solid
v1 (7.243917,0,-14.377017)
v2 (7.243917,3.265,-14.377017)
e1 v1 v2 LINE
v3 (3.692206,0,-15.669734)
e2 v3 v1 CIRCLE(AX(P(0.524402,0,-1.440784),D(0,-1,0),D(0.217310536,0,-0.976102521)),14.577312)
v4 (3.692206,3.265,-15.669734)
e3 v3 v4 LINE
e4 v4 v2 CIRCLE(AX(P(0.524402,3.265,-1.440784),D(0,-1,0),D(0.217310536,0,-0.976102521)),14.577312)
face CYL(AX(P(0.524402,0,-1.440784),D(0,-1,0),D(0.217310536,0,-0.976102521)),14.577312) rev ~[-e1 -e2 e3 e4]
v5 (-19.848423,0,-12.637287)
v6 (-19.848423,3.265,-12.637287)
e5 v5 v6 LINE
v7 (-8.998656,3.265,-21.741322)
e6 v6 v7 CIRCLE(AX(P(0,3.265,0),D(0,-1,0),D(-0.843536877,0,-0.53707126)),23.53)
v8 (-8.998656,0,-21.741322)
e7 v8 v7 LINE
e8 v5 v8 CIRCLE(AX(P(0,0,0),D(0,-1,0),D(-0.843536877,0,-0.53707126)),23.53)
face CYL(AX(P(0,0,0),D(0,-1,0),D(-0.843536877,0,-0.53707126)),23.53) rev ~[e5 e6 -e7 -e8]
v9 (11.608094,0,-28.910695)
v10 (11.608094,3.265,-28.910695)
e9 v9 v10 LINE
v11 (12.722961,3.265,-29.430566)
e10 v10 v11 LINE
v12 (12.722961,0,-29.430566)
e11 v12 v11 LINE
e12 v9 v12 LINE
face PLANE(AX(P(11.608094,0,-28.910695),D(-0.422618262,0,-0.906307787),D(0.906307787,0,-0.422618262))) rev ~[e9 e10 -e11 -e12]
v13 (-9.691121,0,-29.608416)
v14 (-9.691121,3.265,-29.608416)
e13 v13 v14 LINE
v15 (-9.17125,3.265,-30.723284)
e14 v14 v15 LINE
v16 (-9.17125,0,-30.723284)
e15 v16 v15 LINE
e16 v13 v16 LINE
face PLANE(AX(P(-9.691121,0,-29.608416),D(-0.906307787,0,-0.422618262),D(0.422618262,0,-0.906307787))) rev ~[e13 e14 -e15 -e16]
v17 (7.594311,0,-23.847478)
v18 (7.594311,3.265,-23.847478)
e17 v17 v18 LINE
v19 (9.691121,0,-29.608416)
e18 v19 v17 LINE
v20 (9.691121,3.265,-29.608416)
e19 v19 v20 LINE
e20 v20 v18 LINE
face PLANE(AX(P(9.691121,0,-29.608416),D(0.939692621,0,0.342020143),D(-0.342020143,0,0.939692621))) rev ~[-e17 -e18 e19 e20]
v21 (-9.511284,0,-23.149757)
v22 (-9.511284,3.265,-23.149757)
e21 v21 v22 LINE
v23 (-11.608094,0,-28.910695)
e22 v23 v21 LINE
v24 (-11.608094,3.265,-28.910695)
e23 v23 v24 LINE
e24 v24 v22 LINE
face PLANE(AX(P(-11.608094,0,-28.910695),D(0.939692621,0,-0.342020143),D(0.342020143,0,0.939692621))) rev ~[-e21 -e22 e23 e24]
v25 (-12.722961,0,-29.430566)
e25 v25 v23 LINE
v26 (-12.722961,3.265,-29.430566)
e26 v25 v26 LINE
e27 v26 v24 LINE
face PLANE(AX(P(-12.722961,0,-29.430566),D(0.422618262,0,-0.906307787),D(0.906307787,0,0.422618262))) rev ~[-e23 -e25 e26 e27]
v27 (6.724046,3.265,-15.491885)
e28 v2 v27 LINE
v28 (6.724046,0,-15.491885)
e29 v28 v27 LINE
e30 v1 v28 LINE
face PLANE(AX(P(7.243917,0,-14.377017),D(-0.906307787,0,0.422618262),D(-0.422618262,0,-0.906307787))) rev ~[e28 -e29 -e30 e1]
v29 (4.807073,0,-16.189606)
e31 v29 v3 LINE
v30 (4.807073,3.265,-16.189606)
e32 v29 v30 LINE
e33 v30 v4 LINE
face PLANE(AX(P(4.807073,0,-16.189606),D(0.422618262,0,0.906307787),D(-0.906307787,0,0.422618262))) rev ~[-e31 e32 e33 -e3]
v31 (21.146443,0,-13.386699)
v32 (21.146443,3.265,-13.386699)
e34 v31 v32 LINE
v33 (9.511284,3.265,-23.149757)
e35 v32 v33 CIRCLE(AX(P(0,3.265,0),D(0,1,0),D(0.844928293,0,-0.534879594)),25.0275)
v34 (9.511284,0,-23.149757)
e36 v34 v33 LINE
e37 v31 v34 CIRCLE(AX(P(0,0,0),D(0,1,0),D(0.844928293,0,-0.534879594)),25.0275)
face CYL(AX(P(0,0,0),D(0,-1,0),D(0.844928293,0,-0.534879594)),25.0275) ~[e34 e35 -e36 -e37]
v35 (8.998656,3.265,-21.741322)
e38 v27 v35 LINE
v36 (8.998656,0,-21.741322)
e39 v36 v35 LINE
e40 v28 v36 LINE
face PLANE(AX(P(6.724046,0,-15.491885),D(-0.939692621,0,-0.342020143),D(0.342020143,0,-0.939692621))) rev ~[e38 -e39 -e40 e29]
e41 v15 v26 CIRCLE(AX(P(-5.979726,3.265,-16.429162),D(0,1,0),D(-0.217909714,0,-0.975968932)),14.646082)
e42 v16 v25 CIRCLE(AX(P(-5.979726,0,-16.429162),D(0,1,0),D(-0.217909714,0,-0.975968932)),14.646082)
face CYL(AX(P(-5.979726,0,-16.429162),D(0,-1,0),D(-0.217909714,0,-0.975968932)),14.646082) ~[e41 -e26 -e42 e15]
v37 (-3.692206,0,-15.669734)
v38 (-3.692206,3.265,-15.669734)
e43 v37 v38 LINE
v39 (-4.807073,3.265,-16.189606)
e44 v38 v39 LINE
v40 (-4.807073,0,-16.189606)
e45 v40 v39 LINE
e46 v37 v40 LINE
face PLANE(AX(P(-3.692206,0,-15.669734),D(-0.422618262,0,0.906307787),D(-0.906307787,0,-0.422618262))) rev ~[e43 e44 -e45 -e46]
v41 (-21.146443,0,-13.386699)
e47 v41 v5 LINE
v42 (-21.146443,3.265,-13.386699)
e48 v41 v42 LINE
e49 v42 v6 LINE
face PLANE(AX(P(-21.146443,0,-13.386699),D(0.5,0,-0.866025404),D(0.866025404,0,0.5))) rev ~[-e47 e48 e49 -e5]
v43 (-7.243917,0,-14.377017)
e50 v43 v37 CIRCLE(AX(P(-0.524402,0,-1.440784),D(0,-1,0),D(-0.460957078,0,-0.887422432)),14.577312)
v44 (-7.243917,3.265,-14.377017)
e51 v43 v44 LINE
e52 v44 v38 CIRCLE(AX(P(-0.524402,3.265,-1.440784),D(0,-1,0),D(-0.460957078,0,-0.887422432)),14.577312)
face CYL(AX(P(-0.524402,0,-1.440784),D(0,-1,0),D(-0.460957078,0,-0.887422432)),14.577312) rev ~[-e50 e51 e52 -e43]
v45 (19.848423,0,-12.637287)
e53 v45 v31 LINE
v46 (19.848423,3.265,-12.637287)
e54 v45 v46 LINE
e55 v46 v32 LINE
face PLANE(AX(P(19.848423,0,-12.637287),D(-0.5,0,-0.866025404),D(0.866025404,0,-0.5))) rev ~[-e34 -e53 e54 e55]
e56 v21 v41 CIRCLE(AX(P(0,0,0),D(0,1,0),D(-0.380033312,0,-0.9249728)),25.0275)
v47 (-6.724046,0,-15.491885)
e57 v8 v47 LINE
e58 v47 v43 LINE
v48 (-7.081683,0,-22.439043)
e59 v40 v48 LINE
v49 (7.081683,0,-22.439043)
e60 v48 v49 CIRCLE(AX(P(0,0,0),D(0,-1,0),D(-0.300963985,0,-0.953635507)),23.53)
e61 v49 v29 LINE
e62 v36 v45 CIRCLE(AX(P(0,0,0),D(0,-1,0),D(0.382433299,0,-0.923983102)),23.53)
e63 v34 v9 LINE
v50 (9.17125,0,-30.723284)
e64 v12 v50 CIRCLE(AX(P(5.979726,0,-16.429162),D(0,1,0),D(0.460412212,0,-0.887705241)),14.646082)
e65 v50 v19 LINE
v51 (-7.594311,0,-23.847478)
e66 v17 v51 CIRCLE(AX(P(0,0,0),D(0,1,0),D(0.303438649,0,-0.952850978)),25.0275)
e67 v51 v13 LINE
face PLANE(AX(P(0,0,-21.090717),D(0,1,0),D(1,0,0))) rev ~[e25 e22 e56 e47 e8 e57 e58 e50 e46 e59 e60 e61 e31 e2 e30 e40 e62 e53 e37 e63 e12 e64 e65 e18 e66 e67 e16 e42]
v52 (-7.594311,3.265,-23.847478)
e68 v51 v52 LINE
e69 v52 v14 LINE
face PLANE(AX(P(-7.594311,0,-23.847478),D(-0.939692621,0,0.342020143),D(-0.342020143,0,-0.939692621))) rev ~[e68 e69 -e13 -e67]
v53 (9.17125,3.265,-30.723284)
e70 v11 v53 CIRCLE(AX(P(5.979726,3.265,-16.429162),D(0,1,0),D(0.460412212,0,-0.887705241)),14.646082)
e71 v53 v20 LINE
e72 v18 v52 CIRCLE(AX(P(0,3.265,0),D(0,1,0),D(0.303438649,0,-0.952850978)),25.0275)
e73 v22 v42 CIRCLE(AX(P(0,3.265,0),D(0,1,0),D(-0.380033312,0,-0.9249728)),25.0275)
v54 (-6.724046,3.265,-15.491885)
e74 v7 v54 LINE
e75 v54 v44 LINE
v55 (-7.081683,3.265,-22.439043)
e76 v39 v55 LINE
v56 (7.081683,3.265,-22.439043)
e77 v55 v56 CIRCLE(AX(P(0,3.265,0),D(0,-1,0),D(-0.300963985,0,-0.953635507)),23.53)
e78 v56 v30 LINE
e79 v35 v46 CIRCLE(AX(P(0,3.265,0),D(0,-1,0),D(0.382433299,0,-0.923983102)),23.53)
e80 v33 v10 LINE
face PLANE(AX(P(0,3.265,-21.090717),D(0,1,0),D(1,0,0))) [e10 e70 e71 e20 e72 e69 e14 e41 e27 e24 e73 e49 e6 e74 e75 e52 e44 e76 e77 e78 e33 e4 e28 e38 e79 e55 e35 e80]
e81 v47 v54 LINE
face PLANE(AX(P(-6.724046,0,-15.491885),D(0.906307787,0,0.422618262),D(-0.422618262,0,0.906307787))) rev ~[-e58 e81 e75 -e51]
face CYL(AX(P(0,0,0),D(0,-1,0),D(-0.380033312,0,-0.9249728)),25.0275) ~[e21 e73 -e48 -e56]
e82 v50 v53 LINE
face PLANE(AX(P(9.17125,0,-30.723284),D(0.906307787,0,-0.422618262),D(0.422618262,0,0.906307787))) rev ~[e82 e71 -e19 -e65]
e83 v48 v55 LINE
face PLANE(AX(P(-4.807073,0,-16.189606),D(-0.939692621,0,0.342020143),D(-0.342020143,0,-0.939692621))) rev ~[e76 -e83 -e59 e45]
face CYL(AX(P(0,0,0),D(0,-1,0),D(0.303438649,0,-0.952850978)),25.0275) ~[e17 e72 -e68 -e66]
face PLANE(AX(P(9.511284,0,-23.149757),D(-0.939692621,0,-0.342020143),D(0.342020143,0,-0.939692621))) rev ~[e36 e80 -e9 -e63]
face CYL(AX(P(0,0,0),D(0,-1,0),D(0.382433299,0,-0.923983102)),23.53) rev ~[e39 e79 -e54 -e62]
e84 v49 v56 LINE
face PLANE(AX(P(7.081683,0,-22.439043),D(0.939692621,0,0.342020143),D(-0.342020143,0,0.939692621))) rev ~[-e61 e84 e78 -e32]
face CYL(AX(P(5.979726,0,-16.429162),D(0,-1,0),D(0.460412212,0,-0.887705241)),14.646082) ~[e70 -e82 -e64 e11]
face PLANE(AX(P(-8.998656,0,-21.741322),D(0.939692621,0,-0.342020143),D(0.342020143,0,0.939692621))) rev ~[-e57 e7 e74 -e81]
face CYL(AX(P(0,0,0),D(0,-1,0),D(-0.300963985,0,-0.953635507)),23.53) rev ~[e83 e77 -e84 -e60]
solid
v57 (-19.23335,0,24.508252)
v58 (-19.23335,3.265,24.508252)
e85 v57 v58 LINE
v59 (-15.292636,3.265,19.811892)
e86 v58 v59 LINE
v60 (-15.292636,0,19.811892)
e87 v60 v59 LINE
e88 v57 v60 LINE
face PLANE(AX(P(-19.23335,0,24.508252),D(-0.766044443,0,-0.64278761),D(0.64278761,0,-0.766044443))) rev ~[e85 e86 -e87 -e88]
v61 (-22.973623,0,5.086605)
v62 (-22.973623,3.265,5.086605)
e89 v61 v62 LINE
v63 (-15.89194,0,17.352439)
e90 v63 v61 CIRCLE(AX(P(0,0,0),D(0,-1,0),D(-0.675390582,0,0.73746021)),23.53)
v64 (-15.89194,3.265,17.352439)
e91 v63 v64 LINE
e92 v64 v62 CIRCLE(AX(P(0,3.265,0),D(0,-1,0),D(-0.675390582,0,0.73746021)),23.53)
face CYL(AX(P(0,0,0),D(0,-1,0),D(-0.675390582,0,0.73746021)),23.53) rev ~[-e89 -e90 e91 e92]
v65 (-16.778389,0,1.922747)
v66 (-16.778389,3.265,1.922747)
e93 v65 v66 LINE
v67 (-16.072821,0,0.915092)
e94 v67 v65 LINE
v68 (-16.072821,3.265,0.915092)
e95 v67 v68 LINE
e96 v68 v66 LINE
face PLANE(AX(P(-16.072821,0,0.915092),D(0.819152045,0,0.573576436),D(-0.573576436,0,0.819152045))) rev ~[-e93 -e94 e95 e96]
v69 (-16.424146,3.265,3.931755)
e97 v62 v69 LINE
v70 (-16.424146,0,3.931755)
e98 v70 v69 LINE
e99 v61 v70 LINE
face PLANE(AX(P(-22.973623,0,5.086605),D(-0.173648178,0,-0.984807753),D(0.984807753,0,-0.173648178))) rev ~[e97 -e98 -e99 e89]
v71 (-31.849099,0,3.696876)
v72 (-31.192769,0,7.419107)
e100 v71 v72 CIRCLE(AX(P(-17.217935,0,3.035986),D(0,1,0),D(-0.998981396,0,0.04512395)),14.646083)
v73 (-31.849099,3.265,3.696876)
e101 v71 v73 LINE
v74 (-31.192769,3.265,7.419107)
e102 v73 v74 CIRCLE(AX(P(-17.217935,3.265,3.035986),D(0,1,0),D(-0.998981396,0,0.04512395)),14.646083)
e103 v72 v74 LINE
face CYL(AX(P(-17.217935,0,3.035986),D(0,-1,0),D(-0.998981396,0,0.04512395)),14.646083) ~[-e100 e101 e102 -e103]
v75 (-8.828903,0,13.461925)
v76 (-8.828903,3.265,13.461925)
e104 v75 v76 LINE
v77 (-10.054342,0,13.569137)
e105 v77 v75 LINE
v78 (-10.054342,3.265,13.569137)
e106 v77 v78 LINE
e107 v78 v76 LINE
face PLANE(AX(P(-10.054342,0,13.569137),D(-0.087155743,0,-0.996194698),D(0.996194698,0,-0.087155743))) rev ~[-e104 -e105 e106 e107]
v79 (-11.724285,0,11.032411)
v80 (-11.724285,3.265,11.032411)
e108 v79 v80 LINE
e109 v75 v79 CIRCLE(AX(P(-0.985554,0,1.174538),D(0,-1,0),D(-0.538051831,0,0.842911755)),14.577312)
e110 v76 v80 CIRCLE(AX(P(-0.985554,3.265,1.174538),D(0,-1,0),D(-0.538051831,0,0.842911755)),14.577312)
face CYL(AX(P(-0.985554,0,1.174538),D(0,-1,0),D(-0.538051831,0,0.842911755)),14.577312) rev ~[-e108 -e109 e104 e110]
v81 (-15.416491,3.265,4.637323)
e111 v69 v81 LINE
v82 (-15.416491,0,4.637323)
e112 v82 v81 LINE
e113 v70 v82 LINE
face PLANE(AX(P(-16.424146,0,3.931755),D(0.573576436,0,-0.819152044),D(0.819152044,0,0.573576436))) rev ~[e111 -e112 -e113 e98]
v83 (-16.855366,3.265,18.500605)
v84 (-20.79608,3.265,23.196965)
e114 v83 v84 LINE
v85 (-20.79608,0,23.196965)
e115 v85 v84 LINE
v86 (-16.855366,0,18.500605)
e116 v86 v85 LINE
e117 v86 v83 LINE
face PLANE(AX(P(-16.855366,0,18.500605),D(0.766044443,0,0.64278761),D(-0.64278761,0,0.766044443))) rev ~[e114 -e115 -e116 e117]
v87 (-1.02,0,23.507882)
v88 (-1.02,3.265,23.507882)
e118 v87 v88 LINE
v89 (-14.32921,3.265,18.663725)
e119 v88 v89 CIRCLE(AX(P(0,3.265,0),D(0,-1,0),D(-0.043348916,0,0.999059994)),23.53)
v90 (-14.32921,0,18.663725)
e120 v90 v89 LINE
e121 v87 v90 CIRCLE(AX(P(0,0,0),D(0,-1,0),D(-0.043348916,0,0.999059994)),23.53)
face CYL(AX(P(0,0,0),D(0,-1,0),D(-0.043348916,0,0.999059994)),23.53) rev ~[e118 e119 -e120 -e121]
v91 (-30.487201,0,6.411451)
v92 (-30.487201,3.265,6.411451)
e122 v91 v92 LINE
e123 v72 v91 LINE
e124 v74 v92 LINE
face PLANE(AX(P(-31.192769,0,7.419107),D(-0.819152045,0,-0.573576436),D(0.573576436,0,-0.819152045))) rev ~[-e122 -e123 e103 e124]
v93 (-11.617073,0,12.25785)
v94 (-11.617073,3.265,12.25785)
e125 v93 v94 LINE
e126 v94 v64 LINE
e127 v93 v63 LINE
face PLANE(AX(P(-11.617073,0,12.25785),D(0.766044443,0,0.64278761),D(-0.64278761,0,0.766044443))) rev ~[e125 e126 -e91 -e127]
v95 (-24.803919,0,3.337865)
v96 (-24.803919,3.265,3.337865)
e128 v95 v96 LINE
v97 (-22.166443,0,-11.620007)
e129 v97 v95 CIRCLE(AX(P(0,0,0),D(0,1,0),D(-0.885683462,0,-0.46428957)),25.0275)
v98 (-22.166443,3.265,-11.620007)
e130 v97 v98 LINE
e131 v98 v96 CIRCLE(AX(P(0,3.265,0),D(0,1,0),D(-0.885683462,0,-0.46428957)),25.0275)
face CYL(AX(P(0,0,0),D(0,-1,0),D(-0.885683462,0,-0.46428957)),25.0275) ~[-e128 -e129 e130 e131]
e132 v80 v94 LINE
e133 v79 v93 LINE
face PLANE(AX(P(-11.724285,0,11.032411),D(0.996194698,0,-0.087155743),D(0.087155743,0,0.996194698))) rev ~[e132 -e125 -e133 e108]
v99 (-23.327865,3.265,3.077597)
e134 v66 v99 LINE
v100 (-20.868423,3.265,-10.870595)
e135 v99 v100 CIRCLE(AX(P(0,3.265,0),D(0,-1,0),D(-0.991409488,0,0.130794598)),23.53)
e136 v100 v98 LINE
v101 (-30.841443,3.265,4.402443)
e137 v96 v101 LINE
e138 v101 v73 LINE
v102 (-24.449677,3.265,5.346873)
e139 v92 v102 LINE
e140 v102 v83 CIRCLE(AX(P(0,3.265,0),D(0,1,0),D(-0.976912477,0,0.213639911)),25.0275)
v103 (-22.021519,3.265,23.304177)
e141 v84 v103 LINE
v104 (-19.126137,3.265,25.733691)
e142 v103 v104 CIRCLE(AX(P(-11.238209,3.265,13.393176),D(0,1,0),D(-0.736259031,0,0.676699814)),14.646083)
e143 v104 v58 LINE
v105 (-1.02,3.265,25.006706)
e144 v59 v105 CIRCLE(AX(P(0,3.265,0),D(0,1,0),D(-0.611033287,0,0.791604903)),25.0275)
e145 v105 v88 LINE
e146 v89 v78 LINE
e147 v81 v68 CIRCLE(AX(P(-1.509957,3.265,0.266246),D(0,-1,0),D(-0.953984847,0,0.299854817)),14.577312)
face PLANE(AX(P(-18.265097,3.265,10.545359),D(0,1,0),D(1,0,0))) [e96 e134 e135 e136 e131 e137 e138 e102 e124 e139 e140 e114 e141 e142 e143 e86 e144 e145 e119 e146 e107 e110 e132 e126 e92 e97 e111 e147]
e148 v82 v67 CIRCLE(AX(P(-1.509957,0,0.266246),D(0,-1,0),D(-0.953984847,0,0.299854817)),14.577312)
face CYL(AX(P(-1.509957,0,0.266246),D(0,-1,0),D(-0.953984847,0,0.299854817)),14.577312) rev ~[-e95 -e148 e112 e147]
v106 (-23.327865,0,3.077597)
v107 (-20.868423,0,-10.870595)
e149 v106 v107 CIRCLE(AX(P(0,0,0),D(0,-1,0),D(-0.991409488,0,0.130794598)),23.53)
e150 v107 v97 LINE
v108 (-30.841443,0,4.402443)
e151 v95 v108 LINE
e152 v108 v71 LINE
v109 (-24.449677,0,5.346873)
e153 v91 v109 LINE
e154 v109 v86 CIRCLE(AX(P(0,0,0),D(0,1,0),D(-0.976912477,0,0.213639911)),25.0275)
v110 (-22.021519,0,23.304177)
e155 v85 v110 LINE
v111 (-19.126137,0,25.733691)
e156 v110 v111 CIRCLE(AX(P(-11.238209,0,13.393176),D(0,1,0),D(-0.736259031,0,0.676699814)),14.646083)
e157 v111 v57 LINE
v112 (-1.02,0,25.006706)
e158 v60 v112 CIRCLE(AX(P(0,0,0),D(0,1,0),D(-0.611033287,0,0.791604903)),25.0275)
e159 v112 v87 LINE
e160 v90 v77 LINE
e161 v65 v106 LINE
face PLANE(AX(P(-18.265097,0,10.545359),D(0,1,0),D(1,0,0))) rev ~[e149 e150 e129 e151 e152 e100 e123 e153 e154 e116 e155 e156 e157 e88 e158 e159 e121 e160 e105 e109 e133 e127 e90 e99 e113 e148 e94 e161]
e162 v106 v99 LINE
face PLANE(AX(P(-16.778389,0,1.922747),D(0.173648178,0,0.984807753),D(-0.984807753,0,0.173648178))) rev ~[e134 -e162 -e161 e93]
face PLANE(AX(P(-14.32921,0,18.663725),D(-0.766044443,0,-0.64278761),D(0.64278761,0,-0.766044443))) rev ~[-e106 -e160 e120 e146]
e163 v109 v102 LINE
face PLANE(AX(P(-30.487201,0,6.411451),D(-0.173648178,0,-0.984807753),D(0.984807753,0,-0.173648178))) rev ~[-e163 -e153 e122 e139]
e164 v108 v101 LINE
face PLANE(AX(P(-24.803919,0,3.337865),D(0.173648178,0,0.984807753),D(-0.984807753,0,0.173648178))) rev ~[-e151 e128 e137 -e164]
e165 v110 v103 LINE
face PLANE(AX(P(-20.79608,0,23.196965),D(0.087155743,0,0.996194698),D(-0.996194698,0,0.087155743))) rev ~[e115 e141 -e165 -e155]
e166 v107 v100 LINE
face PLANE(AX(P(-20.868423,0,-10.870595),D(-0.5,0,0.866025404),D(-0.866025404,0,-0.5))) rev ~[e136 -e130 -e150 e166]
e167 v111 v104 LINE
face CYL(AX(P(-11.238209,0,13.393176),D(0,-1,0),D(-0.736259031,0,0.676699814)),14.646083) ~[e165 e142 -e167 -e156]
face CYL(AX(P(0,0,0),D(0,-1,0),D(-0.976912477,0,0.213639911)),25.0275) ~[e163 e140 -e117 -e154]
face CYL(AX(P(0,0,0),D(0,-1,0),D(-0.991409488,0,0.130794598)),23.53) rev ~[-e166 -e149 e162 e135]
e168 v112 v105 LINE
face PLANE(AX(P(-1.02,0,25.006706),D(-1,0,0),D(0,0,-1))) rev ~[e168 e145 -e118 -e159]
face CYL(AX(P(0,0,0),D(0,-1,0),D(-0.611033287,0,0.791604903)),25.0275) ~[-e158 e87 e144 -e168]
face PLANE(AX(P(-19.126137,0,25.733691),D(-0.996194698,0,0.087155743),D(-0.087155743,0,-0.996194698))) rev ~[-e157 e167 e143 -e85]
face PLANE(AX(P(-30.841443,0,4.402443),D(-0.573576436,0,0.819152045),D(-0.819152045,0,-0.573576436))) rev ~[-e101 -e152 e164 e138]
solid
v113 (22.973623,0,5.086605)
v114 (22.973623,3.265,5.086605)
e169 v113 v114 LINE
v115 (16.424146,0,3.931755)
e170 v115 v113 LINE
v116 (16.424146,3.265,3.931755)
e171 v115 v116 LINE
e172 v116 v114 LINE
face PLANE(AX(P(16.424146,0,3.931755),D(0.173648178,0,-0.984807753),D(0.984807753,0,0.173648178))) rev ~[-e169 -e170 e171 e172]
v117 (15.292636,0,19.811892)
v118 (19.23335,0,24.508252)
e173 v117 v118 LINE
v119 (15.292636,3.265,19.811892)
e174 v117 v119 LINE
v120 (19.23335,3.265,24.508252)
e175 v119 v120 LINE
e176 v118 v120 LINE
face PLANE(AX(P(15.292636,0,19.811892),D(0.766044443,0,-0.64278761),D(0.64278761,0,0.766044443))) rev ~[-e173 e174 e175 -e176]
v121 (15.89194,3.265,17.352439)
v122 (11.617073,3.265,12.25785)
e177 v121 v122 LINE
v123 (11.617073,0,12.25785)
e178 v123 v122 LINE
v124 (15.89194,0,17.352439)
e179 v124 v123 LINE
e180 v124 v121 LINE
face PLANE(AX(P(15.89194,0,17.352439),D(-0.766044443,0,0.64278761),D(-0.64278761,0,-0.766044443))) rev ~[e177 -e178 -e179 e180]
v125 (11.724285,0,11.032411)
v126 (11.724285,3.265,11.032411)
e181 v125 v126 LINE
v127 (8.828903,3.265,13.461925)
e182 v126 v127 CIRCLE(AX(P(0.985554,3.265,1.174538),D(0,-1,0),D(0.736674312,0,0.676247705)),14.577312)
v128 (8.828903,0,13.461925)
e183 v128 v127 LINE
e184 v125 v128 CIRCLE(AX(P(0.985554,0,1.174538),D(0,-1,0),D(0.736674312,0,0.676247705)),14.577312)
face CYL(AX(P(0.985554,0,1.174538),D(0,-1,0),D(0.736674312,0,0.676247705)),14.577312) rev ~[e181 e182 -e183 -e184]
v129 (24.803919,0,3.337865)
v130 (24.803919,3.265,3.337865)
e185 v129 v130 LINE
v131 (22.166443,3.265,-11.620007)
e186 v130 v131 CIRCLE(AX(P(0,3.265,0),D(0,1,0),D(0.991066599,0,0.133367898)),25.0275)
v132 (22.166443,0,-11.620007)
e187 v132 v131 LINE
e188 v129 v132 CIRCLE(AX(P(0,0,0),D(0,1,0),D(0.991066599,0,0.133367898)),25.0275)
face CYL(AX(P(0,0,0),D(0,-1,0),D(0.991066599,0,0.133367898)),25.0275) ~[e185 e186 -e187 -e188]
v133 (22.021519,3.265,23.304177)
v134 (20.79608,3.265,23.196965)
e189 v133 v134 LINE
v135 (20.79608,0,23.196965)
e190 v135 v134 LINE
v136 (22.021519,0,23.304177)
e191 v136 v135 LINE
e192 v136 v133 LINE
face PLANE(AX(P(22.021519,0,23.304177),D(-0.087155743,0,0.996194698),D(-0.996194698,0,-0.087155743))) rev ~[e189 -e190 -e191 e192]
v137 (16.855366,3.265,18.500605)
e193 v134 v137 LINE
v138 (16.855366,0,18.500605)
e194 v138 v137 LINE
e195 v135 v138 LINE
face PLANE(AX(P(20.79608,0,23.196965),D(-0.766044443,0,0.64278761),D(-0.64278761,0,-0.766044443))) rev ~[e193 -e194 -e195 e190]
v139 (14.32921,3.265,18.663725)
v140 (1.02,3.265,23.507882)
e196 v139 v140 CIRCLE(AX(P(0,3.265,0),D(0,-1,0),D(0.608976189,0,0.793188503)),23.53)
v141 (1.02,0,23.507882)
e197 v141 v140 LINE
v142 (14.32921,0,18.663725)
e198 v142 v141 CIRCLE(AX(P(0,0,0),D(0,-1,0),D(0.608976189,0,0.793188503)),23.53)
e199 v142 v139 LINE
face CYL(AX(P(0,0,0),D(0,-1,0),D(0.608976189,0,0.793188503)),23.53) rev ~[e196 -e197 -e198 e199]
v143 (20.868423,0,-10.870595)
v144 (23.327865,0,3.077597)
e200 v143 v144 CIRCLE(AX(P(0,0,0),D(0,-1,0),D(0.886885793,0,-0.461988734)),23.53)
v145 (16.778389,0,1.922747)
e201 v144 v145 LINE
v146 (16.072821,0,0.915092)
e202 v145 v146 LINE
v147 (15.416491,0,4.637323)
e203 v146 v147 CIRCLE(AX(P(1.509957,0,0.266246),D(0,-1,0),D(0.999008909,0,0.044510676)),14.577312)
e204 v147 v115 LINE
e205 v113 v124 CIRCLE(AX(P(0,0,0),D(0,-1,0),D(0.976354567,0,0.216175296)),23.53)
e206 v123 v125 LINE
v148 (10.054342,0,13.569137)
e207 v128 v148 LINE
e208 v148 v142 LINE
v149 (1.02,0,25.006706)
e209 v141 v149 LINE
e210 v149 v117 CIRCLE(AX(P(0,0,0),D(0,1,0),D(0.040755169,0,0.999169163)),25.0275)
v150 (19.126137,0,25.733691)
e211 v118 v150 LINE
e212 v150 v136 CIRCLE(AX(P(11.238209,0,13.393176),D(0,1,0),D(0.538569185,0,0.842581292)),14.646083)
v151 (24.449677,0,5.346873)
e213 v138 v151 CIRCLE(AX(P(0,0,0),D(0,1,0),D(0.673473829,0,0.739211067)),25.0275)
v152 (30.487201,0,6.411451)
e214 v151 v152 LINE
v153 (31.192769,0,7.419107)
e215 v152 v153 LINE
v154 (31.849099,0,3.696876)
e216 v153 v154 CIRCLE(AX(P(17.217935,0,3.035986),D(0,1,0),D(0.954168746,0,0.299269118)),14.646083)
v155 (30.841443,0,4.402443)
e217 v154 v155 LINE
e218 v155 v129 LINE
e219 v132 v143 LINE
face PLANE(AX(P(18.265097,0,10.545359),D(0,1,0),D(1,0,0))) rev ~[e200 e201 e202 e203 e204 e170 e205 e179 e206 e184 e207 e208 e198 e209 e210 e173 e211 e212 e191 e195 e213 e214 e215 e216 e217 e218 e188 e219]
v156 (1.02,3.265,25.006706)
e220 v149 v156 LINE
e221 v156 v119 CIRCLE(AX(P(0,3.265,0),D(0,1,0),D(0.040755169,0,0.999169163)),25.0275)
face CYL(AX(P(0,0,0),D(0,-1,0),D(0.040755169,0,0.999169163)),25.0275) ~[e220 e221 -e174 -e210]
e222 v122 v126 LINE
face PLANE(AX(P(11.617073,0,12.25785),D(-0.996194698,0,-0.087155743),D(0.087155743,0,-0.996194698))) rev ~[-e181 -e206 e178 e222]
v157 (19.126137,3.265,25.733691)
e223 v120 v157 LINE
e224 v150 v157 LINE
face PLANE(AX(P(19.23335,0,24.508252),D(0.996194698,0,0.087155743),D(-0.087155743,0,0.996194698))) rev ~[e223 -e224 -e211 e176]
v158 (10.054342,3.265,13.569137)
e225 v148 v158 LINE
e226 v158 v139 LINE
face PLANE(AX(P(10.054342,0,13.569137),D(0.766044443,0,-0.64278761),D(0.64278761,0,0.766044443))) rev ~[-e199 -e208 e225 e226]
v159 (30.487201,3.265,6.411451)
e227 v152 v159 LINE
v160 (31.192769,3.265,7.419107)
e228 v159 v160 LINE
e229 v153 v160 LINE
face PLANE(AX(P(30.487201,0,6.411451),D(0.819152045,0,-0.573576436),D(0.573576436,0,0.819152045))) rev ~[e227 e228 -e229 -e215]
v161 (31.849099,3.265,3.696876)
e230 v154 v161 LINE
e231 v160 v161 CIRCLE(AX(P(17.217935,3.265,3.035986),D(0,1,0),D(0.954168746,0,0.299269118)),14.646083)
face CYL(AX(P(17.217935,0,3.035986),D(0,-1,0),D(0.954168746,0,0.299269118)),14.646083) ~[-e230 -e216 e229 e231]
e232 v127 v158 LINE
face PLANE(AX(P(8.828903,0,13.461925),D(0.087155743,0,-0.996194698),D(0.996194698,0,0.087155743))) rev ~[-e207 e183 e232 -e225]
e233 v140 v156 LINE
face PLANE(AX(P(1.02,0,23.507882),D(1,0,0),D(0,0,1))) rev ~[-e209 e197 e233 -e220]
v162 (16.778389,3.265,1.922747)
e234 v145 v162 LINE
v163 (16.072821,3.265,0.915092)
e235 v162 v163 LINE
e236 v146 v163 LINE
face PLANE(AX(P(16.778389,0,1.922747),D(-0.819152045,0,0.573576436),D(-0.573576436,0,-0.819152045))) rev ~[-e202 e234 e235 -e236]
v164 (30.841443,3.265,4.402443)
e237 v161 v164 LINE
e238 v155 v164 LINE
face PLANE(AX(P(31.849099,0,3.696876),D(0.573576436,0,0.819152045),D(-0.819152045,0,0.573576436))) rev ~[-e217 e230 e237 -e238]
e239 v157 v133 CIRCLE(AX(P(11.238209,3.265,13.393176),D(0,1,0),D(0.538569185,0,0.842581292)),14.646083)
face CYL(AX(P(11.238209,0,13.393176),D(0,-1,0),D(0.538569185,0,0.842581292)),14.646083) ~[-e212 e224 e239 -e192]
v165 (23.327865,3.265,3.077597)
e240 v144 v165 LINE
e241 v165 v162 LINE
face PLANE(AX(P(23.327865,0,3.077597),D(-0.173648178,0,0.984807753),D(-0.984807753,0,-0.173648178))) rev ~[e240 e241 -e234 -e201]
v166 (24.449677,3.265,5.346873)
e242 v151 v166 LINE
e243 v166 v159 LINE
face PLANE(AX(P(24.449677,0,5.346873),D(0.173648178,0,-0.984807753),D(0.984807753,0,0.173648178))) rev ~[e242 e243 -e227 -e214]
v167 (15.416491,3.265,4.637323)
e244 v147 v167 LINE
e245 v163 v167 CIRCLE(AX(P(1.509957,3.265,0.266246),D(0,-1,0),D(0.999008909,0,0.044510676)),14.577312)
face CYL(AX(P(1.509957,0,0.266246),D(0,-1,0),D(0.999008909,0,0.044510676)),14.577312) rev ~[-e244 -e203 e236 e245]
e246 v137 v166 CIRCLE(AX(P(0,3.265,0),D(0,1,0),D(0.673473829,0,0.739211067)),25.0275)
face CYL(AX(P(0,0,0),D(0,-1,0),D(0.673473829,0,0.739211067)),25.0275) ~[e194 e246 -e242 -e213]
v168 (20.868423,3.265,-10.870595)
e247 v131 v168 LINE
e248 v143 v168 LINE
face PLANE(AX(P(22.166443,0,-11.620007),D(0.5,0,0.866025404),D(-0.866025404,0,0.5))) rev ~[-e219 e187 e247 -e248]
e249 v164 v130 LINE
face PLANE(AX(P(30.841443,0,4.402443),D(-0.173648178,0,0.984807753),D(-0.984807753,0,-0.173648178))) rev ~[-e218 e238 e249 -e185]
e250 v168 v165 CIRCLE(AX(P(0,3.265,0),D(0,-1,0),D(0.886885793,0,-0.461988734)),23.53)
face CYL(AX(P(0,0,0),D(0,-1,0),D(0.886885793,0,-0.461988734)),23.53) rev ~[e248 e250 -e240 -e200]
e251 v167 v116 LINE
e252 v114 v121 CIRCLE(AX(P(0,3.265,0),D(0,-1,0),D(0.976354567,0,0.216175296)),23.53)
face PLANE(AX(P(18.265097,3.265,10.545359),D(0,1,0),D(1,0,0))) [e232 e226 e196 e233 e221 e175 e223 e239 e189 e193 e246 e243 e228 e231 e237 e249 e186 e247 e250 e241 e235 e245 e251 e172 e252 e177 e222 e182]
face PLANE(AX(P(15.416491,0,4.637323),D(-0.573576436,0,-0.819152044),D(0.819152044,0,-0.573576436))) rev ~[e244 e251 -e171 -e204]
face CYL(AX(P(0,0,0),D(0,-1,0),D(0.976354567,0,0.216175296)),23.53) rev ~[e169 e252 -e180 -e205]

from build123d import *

# Parameters (mm, degrees)
BOSS_EXTRUDE1_DEPTH   = 3.265
BOSS_EXTRUDE1_2_DEPTH = 3.265
BOSS_EXTRUDE1_3_DEPTH = 3.265


with BuildPart() as part:
    # Sketch1 → Boss-Extrude1 (new body)
    with BuildSketch(Plane(origin=(0, 0, 0), x_dir=(1, 0, 0), z_dir=(0, 1, 0))):
        with BuildLine():
            Line((-6.724046162, 15.491884508), (-7.243917376, 14.377017092))
            ThreePointArc((-7.243917376, 14.377017092), (-5.510136615, 15.138975927), (-3.692205799, 15.669734386))
            Line((-3.692205799, 15.669734386), (-4.807073215, 16.189605601))
            Line((-4.807073215, 16.189605601), (-7.08168258, 22.43904347))
            ThreePointArc((-7.08168258, 22.43904347), (0, 23.53), (7.08168258, 22.43904347))
            Line((7.08168258, 22.43904347), (4.807073215, 16.189605601))
            Line((4.807073215, 16.189605601), (3.692205799, 15.669734386))
            ThreePointArc((3.692205799, 15.669734386), (5.510136615, 15.138975927), (7.243917376, 14.377017092))
            Line((7.243917376, 14.377017092), (6.724046162, 15.491884508))
            Line((6.724046162, 15.491884508), (8.998655527, 21.741322377))
            ThreePointArc((8.998655527, 21.741322377), (15.124792456, 18.025025747), (19.848422704, 12.63728674))
            Line((19.848422704, 12.63728674), (21.146442856, 13.386699025))
            ThreePointArc((21.146442856, 13.386699025), (16.087366901, 19.1721773), (9.511283721, 23.149756764))
            Line((9.511283721, 23.149756764), (11.608093808, 28.910695133))
            Line((11.608093808, 28.910695133), (12.722961226, 29.430566348))
            ThreePointArc((12.722961226, 29.430566348), (10.988981231, 30.191977795), (9.171249647, 30.723283643))
            Line((9.171249647, 30.723283643), (9.691120862, 29.608416225))
            Line((9.691120862, 29.608416225), (7.594310774, 23.847477856))
            ThreePointArc((7.594310774, 23.847477856), (0, 25.0275), (-7.594310774, 23.847477856))
            Line((-7.594310774, 23.847477856), (-9.691120862, 29.608416225))
            Line((-9.691120862, 29.608416225), (-9.171249647, 30.723283643))
            ThreePointArc((-9.171249647, 30.723283643), (-10.988981231, 30.191977795), (-12.722961226, 29.430566348))
            Line((-12.722961226, 29.430566348), (-11.608093808, 28.910695133))
            Line((-11.608093808, 28.910695133), (-9.511283721, 23.149756764))
            ThreePointArc((-9.511283721, 23.149756764), (-16.087366901, 19.1721773), (-21.146442856, 13.386699025))
            Line((-21.146442856, 13.386699025), (-19.848422704, 12.63728674))
            ThreePointArc((-19.848422704, 12.63728674), (-15.124792456, 18.025025747), (-8.998655527, 21.741322377))
            Line((-8.998655527, 21.741322377), (-6.724046162, 15.491884508))
        make_face()
    extrude(amount=BOSS_EXTRUDE1_DEPTH)


with BuildPart() as body_2:
    # Sketch1 → Boss-Extrude1 2 (new body)
    with BuildSketch(Plane(origin=(0, 0, 0), x_dir=(1, 0, 0), z_dir=(0, 1, 0))):
        with BuildLine():
            Line((16.778388617, -1.922747462), (16.07282072, -0.915092075))
            ThreePointArc((16.07282072, -0.915092075), (15.865806048, -2.797569677), (15.416490948, -4.637323176))
            Line((15.416490948, -4.637323176), (16.424146335, -3.931755278))
            Line((16.424146335, -3.931755278), (22.973622971, -5.086604719))
            ThreePointArc((22.973622971, -5.086604719), (20.377577751, -11.765), (15.891940391, -17.352438751))
            Line((15.891940391, -17.352438751), (11.61707312, -12.257850322))
            Line((11.61707312, -12.257850322), (11.72428515, -11.032411211))
            ThreePointArc((11.72428515, -11.032411211), (10.355669433, -12.34140625), (8.828903344, -13.461925016))
            Line((8.828903344, -13.461925016), (10.054342456, -13.569137046))
            Line((10.054342456, -13.569137046), (14.329209727, -18.663725475))
            ThreePointArc((14.329209727, -18.663725475), (8.047733972, -22.110967367), (1.02, -23.507881657))
            Line((1.02, -23.507881657), (1.02, -25.006706226))
            ThreePointArc((1.02, -25.006706226), (8.559909137, -23.518157067), (15.292635589, -19.811891707))
            Line((15.292635589, -19.811891707), (19.233349522, -24.508251694))
            Line((19.233349522, -24.508251694), (19.126137492, -25.733690807))
            ThreePointArc((19.126137492, -25.733690807), (20.652529145, -24.612725805), (22.021519299, -23.304177))
            Line((22.021519299, -23.304177), (20.796080186, -23.19696497))
            Line((20.796080186, -23.19696497), (16.855366253, -18.500604983))
            ThreePointArc((16.855366253, -18.500604983), (21.674450793, -12.51375), (24.449677027, -5.346872874))
            Line((24.449677027, -5.346872874), (30.487201048, -6.411451255))
            Line((30.487201048, -6.411451255), (31.192768946, -7.419106643))
            ThreePointArc((31.192768946, -7.419106643), (31.641510376, -5.57925199), (31.849098718, -3.696875541))
            Line((31.849098718, -3.696875541), (30.84144333, -4.402443439))
            Line((30.84144333, -4.402443439), (24.803919309, -3.337865057))
            ThreePointArc((24.803919309, -3.337865057), (24.647276039, 4.345979767), (22.166442856, 11.620007201))
            Line((22.166442856, 11.620007201), (20.868422704, 10.870594917))
            ThreePointArc((20.868422704, 10.870594917), (23.172526428, 4.085941621), (23.327865254, -3.077596902))
            Line((23.327865254, -3.077596902), (16.778388617, -1.922747462))
        make_face()
    extrude(amount=BOSS_EXTRUDE1_2_DEPTH)


with BuildPart() as body_3:
    # Sketch1 → Boss-Extrude1 3 (new body)
    with BuildSketch(Plane(origin=(0, 0, 0), x_dir=(1, 0, 0), z_dir=(0, 1, 0))):
        with BuildLine():
            Line((-10.054342456, -13.569137046), (-8.828903344, -13.461925016))
            ThreePointArc((-8.828903344, -13.461925016), (-10.355669433, -12.34140625), (-11.72428515, -11.032411211))
            Line((-11.72428515, -11.032411211), (-11.61707312, -12.257850322))
            Line((-11.61707312, -12.257850322), (-15.891940391, -17.352438751))
            ThreePointArc((-15.891940391, -17.352438751), (-20.377577751, -11.765), (-22.973622971, -5.086604719))
            Line((-22.973622971, -5.086604719), (-16.424146335, -3.931755278))
            Line((-16.424146335, -3.931755278), (-15.416490948, -4.637323176))
            ThreePointArc((-15.416490948, -4.637323176), (-15.865806048, -2.797569677), (-16.07282072, -0.915092075))
            Line((-16.07282072, -0.915092075), (-16.778388617, -1.922747462))
            Line((-16.778388617, -1.922747462), (-23.327865254, -3.077596902))
            ThreePointArc((-23.327865254, -3.077596902), (-23.172526428, 4.085941621), (-20.868422704, 10.870594917))
            Line((-20.868422704, 10.870594917), (-22.166442856, 11.620007201))
            ThreePointArc((-22.166442856, 11.620007201), (-24.647276039, 4.345979767), (-24.803919309, -3.337865057))
            Line((-24.803919309, -3.337865057), (-30.84144333, -4.402443439))
            Line((-30.84144333, -4.402443439), (-31.849098718, -3.696875541))
            ThreePointArc((-31.849098718, -3.696875541), (-31.641510376, -5.57925199), (-31.192768946, -7.419106643))
            Line((-31.192768946, -7.419106643), (-30.487201048, -6.411451255))
            Line((-30.487201048, -6.411451255), (-24.449677027, -5.346872874))
            ThreePointArc((-24.449677027, -5.346872874), (-21.674450793, -12.51375), (-16.855366253, -18.500604983))
            Line((-16.855366253, -18.500604983), (-20.796080186, -23.19696497))
            Line((-20.796080186, -23.19696497), (-22.021519299, -23.304177))
            ThreePointArc((-22.021519299, -23.304177), (-20.652529145, -24.612725805), (-19.126137492, -25.733690807))
            Line((-19.126137492, -25.733690807), (-19.233349522, -24.508251694))
            Line((-19.233349522, -24.508251694), (-15.292635589, -19.811891707))
            ThreePointArc((-15.292635589, -19.811891707), (-8.559909137, -23.518157067), (-1.02, -25.006706226))
            Line((-1.02, -25.006706226), (-1.02, -23.507881657))
            ThreePointArc((-1.02, -23.507881657), (-8.047733972, -22.110967367), (-14.329209727, -18.663725475))
            Line((-14.329209727, -18.663725475), (-10.054342456, -13.569137046))
        make_face()
    extrude(amount=BOSS_EXTRUDE1_3_DEPTH)


solid = Compound([part.part, body_2.part, body_3.part])
